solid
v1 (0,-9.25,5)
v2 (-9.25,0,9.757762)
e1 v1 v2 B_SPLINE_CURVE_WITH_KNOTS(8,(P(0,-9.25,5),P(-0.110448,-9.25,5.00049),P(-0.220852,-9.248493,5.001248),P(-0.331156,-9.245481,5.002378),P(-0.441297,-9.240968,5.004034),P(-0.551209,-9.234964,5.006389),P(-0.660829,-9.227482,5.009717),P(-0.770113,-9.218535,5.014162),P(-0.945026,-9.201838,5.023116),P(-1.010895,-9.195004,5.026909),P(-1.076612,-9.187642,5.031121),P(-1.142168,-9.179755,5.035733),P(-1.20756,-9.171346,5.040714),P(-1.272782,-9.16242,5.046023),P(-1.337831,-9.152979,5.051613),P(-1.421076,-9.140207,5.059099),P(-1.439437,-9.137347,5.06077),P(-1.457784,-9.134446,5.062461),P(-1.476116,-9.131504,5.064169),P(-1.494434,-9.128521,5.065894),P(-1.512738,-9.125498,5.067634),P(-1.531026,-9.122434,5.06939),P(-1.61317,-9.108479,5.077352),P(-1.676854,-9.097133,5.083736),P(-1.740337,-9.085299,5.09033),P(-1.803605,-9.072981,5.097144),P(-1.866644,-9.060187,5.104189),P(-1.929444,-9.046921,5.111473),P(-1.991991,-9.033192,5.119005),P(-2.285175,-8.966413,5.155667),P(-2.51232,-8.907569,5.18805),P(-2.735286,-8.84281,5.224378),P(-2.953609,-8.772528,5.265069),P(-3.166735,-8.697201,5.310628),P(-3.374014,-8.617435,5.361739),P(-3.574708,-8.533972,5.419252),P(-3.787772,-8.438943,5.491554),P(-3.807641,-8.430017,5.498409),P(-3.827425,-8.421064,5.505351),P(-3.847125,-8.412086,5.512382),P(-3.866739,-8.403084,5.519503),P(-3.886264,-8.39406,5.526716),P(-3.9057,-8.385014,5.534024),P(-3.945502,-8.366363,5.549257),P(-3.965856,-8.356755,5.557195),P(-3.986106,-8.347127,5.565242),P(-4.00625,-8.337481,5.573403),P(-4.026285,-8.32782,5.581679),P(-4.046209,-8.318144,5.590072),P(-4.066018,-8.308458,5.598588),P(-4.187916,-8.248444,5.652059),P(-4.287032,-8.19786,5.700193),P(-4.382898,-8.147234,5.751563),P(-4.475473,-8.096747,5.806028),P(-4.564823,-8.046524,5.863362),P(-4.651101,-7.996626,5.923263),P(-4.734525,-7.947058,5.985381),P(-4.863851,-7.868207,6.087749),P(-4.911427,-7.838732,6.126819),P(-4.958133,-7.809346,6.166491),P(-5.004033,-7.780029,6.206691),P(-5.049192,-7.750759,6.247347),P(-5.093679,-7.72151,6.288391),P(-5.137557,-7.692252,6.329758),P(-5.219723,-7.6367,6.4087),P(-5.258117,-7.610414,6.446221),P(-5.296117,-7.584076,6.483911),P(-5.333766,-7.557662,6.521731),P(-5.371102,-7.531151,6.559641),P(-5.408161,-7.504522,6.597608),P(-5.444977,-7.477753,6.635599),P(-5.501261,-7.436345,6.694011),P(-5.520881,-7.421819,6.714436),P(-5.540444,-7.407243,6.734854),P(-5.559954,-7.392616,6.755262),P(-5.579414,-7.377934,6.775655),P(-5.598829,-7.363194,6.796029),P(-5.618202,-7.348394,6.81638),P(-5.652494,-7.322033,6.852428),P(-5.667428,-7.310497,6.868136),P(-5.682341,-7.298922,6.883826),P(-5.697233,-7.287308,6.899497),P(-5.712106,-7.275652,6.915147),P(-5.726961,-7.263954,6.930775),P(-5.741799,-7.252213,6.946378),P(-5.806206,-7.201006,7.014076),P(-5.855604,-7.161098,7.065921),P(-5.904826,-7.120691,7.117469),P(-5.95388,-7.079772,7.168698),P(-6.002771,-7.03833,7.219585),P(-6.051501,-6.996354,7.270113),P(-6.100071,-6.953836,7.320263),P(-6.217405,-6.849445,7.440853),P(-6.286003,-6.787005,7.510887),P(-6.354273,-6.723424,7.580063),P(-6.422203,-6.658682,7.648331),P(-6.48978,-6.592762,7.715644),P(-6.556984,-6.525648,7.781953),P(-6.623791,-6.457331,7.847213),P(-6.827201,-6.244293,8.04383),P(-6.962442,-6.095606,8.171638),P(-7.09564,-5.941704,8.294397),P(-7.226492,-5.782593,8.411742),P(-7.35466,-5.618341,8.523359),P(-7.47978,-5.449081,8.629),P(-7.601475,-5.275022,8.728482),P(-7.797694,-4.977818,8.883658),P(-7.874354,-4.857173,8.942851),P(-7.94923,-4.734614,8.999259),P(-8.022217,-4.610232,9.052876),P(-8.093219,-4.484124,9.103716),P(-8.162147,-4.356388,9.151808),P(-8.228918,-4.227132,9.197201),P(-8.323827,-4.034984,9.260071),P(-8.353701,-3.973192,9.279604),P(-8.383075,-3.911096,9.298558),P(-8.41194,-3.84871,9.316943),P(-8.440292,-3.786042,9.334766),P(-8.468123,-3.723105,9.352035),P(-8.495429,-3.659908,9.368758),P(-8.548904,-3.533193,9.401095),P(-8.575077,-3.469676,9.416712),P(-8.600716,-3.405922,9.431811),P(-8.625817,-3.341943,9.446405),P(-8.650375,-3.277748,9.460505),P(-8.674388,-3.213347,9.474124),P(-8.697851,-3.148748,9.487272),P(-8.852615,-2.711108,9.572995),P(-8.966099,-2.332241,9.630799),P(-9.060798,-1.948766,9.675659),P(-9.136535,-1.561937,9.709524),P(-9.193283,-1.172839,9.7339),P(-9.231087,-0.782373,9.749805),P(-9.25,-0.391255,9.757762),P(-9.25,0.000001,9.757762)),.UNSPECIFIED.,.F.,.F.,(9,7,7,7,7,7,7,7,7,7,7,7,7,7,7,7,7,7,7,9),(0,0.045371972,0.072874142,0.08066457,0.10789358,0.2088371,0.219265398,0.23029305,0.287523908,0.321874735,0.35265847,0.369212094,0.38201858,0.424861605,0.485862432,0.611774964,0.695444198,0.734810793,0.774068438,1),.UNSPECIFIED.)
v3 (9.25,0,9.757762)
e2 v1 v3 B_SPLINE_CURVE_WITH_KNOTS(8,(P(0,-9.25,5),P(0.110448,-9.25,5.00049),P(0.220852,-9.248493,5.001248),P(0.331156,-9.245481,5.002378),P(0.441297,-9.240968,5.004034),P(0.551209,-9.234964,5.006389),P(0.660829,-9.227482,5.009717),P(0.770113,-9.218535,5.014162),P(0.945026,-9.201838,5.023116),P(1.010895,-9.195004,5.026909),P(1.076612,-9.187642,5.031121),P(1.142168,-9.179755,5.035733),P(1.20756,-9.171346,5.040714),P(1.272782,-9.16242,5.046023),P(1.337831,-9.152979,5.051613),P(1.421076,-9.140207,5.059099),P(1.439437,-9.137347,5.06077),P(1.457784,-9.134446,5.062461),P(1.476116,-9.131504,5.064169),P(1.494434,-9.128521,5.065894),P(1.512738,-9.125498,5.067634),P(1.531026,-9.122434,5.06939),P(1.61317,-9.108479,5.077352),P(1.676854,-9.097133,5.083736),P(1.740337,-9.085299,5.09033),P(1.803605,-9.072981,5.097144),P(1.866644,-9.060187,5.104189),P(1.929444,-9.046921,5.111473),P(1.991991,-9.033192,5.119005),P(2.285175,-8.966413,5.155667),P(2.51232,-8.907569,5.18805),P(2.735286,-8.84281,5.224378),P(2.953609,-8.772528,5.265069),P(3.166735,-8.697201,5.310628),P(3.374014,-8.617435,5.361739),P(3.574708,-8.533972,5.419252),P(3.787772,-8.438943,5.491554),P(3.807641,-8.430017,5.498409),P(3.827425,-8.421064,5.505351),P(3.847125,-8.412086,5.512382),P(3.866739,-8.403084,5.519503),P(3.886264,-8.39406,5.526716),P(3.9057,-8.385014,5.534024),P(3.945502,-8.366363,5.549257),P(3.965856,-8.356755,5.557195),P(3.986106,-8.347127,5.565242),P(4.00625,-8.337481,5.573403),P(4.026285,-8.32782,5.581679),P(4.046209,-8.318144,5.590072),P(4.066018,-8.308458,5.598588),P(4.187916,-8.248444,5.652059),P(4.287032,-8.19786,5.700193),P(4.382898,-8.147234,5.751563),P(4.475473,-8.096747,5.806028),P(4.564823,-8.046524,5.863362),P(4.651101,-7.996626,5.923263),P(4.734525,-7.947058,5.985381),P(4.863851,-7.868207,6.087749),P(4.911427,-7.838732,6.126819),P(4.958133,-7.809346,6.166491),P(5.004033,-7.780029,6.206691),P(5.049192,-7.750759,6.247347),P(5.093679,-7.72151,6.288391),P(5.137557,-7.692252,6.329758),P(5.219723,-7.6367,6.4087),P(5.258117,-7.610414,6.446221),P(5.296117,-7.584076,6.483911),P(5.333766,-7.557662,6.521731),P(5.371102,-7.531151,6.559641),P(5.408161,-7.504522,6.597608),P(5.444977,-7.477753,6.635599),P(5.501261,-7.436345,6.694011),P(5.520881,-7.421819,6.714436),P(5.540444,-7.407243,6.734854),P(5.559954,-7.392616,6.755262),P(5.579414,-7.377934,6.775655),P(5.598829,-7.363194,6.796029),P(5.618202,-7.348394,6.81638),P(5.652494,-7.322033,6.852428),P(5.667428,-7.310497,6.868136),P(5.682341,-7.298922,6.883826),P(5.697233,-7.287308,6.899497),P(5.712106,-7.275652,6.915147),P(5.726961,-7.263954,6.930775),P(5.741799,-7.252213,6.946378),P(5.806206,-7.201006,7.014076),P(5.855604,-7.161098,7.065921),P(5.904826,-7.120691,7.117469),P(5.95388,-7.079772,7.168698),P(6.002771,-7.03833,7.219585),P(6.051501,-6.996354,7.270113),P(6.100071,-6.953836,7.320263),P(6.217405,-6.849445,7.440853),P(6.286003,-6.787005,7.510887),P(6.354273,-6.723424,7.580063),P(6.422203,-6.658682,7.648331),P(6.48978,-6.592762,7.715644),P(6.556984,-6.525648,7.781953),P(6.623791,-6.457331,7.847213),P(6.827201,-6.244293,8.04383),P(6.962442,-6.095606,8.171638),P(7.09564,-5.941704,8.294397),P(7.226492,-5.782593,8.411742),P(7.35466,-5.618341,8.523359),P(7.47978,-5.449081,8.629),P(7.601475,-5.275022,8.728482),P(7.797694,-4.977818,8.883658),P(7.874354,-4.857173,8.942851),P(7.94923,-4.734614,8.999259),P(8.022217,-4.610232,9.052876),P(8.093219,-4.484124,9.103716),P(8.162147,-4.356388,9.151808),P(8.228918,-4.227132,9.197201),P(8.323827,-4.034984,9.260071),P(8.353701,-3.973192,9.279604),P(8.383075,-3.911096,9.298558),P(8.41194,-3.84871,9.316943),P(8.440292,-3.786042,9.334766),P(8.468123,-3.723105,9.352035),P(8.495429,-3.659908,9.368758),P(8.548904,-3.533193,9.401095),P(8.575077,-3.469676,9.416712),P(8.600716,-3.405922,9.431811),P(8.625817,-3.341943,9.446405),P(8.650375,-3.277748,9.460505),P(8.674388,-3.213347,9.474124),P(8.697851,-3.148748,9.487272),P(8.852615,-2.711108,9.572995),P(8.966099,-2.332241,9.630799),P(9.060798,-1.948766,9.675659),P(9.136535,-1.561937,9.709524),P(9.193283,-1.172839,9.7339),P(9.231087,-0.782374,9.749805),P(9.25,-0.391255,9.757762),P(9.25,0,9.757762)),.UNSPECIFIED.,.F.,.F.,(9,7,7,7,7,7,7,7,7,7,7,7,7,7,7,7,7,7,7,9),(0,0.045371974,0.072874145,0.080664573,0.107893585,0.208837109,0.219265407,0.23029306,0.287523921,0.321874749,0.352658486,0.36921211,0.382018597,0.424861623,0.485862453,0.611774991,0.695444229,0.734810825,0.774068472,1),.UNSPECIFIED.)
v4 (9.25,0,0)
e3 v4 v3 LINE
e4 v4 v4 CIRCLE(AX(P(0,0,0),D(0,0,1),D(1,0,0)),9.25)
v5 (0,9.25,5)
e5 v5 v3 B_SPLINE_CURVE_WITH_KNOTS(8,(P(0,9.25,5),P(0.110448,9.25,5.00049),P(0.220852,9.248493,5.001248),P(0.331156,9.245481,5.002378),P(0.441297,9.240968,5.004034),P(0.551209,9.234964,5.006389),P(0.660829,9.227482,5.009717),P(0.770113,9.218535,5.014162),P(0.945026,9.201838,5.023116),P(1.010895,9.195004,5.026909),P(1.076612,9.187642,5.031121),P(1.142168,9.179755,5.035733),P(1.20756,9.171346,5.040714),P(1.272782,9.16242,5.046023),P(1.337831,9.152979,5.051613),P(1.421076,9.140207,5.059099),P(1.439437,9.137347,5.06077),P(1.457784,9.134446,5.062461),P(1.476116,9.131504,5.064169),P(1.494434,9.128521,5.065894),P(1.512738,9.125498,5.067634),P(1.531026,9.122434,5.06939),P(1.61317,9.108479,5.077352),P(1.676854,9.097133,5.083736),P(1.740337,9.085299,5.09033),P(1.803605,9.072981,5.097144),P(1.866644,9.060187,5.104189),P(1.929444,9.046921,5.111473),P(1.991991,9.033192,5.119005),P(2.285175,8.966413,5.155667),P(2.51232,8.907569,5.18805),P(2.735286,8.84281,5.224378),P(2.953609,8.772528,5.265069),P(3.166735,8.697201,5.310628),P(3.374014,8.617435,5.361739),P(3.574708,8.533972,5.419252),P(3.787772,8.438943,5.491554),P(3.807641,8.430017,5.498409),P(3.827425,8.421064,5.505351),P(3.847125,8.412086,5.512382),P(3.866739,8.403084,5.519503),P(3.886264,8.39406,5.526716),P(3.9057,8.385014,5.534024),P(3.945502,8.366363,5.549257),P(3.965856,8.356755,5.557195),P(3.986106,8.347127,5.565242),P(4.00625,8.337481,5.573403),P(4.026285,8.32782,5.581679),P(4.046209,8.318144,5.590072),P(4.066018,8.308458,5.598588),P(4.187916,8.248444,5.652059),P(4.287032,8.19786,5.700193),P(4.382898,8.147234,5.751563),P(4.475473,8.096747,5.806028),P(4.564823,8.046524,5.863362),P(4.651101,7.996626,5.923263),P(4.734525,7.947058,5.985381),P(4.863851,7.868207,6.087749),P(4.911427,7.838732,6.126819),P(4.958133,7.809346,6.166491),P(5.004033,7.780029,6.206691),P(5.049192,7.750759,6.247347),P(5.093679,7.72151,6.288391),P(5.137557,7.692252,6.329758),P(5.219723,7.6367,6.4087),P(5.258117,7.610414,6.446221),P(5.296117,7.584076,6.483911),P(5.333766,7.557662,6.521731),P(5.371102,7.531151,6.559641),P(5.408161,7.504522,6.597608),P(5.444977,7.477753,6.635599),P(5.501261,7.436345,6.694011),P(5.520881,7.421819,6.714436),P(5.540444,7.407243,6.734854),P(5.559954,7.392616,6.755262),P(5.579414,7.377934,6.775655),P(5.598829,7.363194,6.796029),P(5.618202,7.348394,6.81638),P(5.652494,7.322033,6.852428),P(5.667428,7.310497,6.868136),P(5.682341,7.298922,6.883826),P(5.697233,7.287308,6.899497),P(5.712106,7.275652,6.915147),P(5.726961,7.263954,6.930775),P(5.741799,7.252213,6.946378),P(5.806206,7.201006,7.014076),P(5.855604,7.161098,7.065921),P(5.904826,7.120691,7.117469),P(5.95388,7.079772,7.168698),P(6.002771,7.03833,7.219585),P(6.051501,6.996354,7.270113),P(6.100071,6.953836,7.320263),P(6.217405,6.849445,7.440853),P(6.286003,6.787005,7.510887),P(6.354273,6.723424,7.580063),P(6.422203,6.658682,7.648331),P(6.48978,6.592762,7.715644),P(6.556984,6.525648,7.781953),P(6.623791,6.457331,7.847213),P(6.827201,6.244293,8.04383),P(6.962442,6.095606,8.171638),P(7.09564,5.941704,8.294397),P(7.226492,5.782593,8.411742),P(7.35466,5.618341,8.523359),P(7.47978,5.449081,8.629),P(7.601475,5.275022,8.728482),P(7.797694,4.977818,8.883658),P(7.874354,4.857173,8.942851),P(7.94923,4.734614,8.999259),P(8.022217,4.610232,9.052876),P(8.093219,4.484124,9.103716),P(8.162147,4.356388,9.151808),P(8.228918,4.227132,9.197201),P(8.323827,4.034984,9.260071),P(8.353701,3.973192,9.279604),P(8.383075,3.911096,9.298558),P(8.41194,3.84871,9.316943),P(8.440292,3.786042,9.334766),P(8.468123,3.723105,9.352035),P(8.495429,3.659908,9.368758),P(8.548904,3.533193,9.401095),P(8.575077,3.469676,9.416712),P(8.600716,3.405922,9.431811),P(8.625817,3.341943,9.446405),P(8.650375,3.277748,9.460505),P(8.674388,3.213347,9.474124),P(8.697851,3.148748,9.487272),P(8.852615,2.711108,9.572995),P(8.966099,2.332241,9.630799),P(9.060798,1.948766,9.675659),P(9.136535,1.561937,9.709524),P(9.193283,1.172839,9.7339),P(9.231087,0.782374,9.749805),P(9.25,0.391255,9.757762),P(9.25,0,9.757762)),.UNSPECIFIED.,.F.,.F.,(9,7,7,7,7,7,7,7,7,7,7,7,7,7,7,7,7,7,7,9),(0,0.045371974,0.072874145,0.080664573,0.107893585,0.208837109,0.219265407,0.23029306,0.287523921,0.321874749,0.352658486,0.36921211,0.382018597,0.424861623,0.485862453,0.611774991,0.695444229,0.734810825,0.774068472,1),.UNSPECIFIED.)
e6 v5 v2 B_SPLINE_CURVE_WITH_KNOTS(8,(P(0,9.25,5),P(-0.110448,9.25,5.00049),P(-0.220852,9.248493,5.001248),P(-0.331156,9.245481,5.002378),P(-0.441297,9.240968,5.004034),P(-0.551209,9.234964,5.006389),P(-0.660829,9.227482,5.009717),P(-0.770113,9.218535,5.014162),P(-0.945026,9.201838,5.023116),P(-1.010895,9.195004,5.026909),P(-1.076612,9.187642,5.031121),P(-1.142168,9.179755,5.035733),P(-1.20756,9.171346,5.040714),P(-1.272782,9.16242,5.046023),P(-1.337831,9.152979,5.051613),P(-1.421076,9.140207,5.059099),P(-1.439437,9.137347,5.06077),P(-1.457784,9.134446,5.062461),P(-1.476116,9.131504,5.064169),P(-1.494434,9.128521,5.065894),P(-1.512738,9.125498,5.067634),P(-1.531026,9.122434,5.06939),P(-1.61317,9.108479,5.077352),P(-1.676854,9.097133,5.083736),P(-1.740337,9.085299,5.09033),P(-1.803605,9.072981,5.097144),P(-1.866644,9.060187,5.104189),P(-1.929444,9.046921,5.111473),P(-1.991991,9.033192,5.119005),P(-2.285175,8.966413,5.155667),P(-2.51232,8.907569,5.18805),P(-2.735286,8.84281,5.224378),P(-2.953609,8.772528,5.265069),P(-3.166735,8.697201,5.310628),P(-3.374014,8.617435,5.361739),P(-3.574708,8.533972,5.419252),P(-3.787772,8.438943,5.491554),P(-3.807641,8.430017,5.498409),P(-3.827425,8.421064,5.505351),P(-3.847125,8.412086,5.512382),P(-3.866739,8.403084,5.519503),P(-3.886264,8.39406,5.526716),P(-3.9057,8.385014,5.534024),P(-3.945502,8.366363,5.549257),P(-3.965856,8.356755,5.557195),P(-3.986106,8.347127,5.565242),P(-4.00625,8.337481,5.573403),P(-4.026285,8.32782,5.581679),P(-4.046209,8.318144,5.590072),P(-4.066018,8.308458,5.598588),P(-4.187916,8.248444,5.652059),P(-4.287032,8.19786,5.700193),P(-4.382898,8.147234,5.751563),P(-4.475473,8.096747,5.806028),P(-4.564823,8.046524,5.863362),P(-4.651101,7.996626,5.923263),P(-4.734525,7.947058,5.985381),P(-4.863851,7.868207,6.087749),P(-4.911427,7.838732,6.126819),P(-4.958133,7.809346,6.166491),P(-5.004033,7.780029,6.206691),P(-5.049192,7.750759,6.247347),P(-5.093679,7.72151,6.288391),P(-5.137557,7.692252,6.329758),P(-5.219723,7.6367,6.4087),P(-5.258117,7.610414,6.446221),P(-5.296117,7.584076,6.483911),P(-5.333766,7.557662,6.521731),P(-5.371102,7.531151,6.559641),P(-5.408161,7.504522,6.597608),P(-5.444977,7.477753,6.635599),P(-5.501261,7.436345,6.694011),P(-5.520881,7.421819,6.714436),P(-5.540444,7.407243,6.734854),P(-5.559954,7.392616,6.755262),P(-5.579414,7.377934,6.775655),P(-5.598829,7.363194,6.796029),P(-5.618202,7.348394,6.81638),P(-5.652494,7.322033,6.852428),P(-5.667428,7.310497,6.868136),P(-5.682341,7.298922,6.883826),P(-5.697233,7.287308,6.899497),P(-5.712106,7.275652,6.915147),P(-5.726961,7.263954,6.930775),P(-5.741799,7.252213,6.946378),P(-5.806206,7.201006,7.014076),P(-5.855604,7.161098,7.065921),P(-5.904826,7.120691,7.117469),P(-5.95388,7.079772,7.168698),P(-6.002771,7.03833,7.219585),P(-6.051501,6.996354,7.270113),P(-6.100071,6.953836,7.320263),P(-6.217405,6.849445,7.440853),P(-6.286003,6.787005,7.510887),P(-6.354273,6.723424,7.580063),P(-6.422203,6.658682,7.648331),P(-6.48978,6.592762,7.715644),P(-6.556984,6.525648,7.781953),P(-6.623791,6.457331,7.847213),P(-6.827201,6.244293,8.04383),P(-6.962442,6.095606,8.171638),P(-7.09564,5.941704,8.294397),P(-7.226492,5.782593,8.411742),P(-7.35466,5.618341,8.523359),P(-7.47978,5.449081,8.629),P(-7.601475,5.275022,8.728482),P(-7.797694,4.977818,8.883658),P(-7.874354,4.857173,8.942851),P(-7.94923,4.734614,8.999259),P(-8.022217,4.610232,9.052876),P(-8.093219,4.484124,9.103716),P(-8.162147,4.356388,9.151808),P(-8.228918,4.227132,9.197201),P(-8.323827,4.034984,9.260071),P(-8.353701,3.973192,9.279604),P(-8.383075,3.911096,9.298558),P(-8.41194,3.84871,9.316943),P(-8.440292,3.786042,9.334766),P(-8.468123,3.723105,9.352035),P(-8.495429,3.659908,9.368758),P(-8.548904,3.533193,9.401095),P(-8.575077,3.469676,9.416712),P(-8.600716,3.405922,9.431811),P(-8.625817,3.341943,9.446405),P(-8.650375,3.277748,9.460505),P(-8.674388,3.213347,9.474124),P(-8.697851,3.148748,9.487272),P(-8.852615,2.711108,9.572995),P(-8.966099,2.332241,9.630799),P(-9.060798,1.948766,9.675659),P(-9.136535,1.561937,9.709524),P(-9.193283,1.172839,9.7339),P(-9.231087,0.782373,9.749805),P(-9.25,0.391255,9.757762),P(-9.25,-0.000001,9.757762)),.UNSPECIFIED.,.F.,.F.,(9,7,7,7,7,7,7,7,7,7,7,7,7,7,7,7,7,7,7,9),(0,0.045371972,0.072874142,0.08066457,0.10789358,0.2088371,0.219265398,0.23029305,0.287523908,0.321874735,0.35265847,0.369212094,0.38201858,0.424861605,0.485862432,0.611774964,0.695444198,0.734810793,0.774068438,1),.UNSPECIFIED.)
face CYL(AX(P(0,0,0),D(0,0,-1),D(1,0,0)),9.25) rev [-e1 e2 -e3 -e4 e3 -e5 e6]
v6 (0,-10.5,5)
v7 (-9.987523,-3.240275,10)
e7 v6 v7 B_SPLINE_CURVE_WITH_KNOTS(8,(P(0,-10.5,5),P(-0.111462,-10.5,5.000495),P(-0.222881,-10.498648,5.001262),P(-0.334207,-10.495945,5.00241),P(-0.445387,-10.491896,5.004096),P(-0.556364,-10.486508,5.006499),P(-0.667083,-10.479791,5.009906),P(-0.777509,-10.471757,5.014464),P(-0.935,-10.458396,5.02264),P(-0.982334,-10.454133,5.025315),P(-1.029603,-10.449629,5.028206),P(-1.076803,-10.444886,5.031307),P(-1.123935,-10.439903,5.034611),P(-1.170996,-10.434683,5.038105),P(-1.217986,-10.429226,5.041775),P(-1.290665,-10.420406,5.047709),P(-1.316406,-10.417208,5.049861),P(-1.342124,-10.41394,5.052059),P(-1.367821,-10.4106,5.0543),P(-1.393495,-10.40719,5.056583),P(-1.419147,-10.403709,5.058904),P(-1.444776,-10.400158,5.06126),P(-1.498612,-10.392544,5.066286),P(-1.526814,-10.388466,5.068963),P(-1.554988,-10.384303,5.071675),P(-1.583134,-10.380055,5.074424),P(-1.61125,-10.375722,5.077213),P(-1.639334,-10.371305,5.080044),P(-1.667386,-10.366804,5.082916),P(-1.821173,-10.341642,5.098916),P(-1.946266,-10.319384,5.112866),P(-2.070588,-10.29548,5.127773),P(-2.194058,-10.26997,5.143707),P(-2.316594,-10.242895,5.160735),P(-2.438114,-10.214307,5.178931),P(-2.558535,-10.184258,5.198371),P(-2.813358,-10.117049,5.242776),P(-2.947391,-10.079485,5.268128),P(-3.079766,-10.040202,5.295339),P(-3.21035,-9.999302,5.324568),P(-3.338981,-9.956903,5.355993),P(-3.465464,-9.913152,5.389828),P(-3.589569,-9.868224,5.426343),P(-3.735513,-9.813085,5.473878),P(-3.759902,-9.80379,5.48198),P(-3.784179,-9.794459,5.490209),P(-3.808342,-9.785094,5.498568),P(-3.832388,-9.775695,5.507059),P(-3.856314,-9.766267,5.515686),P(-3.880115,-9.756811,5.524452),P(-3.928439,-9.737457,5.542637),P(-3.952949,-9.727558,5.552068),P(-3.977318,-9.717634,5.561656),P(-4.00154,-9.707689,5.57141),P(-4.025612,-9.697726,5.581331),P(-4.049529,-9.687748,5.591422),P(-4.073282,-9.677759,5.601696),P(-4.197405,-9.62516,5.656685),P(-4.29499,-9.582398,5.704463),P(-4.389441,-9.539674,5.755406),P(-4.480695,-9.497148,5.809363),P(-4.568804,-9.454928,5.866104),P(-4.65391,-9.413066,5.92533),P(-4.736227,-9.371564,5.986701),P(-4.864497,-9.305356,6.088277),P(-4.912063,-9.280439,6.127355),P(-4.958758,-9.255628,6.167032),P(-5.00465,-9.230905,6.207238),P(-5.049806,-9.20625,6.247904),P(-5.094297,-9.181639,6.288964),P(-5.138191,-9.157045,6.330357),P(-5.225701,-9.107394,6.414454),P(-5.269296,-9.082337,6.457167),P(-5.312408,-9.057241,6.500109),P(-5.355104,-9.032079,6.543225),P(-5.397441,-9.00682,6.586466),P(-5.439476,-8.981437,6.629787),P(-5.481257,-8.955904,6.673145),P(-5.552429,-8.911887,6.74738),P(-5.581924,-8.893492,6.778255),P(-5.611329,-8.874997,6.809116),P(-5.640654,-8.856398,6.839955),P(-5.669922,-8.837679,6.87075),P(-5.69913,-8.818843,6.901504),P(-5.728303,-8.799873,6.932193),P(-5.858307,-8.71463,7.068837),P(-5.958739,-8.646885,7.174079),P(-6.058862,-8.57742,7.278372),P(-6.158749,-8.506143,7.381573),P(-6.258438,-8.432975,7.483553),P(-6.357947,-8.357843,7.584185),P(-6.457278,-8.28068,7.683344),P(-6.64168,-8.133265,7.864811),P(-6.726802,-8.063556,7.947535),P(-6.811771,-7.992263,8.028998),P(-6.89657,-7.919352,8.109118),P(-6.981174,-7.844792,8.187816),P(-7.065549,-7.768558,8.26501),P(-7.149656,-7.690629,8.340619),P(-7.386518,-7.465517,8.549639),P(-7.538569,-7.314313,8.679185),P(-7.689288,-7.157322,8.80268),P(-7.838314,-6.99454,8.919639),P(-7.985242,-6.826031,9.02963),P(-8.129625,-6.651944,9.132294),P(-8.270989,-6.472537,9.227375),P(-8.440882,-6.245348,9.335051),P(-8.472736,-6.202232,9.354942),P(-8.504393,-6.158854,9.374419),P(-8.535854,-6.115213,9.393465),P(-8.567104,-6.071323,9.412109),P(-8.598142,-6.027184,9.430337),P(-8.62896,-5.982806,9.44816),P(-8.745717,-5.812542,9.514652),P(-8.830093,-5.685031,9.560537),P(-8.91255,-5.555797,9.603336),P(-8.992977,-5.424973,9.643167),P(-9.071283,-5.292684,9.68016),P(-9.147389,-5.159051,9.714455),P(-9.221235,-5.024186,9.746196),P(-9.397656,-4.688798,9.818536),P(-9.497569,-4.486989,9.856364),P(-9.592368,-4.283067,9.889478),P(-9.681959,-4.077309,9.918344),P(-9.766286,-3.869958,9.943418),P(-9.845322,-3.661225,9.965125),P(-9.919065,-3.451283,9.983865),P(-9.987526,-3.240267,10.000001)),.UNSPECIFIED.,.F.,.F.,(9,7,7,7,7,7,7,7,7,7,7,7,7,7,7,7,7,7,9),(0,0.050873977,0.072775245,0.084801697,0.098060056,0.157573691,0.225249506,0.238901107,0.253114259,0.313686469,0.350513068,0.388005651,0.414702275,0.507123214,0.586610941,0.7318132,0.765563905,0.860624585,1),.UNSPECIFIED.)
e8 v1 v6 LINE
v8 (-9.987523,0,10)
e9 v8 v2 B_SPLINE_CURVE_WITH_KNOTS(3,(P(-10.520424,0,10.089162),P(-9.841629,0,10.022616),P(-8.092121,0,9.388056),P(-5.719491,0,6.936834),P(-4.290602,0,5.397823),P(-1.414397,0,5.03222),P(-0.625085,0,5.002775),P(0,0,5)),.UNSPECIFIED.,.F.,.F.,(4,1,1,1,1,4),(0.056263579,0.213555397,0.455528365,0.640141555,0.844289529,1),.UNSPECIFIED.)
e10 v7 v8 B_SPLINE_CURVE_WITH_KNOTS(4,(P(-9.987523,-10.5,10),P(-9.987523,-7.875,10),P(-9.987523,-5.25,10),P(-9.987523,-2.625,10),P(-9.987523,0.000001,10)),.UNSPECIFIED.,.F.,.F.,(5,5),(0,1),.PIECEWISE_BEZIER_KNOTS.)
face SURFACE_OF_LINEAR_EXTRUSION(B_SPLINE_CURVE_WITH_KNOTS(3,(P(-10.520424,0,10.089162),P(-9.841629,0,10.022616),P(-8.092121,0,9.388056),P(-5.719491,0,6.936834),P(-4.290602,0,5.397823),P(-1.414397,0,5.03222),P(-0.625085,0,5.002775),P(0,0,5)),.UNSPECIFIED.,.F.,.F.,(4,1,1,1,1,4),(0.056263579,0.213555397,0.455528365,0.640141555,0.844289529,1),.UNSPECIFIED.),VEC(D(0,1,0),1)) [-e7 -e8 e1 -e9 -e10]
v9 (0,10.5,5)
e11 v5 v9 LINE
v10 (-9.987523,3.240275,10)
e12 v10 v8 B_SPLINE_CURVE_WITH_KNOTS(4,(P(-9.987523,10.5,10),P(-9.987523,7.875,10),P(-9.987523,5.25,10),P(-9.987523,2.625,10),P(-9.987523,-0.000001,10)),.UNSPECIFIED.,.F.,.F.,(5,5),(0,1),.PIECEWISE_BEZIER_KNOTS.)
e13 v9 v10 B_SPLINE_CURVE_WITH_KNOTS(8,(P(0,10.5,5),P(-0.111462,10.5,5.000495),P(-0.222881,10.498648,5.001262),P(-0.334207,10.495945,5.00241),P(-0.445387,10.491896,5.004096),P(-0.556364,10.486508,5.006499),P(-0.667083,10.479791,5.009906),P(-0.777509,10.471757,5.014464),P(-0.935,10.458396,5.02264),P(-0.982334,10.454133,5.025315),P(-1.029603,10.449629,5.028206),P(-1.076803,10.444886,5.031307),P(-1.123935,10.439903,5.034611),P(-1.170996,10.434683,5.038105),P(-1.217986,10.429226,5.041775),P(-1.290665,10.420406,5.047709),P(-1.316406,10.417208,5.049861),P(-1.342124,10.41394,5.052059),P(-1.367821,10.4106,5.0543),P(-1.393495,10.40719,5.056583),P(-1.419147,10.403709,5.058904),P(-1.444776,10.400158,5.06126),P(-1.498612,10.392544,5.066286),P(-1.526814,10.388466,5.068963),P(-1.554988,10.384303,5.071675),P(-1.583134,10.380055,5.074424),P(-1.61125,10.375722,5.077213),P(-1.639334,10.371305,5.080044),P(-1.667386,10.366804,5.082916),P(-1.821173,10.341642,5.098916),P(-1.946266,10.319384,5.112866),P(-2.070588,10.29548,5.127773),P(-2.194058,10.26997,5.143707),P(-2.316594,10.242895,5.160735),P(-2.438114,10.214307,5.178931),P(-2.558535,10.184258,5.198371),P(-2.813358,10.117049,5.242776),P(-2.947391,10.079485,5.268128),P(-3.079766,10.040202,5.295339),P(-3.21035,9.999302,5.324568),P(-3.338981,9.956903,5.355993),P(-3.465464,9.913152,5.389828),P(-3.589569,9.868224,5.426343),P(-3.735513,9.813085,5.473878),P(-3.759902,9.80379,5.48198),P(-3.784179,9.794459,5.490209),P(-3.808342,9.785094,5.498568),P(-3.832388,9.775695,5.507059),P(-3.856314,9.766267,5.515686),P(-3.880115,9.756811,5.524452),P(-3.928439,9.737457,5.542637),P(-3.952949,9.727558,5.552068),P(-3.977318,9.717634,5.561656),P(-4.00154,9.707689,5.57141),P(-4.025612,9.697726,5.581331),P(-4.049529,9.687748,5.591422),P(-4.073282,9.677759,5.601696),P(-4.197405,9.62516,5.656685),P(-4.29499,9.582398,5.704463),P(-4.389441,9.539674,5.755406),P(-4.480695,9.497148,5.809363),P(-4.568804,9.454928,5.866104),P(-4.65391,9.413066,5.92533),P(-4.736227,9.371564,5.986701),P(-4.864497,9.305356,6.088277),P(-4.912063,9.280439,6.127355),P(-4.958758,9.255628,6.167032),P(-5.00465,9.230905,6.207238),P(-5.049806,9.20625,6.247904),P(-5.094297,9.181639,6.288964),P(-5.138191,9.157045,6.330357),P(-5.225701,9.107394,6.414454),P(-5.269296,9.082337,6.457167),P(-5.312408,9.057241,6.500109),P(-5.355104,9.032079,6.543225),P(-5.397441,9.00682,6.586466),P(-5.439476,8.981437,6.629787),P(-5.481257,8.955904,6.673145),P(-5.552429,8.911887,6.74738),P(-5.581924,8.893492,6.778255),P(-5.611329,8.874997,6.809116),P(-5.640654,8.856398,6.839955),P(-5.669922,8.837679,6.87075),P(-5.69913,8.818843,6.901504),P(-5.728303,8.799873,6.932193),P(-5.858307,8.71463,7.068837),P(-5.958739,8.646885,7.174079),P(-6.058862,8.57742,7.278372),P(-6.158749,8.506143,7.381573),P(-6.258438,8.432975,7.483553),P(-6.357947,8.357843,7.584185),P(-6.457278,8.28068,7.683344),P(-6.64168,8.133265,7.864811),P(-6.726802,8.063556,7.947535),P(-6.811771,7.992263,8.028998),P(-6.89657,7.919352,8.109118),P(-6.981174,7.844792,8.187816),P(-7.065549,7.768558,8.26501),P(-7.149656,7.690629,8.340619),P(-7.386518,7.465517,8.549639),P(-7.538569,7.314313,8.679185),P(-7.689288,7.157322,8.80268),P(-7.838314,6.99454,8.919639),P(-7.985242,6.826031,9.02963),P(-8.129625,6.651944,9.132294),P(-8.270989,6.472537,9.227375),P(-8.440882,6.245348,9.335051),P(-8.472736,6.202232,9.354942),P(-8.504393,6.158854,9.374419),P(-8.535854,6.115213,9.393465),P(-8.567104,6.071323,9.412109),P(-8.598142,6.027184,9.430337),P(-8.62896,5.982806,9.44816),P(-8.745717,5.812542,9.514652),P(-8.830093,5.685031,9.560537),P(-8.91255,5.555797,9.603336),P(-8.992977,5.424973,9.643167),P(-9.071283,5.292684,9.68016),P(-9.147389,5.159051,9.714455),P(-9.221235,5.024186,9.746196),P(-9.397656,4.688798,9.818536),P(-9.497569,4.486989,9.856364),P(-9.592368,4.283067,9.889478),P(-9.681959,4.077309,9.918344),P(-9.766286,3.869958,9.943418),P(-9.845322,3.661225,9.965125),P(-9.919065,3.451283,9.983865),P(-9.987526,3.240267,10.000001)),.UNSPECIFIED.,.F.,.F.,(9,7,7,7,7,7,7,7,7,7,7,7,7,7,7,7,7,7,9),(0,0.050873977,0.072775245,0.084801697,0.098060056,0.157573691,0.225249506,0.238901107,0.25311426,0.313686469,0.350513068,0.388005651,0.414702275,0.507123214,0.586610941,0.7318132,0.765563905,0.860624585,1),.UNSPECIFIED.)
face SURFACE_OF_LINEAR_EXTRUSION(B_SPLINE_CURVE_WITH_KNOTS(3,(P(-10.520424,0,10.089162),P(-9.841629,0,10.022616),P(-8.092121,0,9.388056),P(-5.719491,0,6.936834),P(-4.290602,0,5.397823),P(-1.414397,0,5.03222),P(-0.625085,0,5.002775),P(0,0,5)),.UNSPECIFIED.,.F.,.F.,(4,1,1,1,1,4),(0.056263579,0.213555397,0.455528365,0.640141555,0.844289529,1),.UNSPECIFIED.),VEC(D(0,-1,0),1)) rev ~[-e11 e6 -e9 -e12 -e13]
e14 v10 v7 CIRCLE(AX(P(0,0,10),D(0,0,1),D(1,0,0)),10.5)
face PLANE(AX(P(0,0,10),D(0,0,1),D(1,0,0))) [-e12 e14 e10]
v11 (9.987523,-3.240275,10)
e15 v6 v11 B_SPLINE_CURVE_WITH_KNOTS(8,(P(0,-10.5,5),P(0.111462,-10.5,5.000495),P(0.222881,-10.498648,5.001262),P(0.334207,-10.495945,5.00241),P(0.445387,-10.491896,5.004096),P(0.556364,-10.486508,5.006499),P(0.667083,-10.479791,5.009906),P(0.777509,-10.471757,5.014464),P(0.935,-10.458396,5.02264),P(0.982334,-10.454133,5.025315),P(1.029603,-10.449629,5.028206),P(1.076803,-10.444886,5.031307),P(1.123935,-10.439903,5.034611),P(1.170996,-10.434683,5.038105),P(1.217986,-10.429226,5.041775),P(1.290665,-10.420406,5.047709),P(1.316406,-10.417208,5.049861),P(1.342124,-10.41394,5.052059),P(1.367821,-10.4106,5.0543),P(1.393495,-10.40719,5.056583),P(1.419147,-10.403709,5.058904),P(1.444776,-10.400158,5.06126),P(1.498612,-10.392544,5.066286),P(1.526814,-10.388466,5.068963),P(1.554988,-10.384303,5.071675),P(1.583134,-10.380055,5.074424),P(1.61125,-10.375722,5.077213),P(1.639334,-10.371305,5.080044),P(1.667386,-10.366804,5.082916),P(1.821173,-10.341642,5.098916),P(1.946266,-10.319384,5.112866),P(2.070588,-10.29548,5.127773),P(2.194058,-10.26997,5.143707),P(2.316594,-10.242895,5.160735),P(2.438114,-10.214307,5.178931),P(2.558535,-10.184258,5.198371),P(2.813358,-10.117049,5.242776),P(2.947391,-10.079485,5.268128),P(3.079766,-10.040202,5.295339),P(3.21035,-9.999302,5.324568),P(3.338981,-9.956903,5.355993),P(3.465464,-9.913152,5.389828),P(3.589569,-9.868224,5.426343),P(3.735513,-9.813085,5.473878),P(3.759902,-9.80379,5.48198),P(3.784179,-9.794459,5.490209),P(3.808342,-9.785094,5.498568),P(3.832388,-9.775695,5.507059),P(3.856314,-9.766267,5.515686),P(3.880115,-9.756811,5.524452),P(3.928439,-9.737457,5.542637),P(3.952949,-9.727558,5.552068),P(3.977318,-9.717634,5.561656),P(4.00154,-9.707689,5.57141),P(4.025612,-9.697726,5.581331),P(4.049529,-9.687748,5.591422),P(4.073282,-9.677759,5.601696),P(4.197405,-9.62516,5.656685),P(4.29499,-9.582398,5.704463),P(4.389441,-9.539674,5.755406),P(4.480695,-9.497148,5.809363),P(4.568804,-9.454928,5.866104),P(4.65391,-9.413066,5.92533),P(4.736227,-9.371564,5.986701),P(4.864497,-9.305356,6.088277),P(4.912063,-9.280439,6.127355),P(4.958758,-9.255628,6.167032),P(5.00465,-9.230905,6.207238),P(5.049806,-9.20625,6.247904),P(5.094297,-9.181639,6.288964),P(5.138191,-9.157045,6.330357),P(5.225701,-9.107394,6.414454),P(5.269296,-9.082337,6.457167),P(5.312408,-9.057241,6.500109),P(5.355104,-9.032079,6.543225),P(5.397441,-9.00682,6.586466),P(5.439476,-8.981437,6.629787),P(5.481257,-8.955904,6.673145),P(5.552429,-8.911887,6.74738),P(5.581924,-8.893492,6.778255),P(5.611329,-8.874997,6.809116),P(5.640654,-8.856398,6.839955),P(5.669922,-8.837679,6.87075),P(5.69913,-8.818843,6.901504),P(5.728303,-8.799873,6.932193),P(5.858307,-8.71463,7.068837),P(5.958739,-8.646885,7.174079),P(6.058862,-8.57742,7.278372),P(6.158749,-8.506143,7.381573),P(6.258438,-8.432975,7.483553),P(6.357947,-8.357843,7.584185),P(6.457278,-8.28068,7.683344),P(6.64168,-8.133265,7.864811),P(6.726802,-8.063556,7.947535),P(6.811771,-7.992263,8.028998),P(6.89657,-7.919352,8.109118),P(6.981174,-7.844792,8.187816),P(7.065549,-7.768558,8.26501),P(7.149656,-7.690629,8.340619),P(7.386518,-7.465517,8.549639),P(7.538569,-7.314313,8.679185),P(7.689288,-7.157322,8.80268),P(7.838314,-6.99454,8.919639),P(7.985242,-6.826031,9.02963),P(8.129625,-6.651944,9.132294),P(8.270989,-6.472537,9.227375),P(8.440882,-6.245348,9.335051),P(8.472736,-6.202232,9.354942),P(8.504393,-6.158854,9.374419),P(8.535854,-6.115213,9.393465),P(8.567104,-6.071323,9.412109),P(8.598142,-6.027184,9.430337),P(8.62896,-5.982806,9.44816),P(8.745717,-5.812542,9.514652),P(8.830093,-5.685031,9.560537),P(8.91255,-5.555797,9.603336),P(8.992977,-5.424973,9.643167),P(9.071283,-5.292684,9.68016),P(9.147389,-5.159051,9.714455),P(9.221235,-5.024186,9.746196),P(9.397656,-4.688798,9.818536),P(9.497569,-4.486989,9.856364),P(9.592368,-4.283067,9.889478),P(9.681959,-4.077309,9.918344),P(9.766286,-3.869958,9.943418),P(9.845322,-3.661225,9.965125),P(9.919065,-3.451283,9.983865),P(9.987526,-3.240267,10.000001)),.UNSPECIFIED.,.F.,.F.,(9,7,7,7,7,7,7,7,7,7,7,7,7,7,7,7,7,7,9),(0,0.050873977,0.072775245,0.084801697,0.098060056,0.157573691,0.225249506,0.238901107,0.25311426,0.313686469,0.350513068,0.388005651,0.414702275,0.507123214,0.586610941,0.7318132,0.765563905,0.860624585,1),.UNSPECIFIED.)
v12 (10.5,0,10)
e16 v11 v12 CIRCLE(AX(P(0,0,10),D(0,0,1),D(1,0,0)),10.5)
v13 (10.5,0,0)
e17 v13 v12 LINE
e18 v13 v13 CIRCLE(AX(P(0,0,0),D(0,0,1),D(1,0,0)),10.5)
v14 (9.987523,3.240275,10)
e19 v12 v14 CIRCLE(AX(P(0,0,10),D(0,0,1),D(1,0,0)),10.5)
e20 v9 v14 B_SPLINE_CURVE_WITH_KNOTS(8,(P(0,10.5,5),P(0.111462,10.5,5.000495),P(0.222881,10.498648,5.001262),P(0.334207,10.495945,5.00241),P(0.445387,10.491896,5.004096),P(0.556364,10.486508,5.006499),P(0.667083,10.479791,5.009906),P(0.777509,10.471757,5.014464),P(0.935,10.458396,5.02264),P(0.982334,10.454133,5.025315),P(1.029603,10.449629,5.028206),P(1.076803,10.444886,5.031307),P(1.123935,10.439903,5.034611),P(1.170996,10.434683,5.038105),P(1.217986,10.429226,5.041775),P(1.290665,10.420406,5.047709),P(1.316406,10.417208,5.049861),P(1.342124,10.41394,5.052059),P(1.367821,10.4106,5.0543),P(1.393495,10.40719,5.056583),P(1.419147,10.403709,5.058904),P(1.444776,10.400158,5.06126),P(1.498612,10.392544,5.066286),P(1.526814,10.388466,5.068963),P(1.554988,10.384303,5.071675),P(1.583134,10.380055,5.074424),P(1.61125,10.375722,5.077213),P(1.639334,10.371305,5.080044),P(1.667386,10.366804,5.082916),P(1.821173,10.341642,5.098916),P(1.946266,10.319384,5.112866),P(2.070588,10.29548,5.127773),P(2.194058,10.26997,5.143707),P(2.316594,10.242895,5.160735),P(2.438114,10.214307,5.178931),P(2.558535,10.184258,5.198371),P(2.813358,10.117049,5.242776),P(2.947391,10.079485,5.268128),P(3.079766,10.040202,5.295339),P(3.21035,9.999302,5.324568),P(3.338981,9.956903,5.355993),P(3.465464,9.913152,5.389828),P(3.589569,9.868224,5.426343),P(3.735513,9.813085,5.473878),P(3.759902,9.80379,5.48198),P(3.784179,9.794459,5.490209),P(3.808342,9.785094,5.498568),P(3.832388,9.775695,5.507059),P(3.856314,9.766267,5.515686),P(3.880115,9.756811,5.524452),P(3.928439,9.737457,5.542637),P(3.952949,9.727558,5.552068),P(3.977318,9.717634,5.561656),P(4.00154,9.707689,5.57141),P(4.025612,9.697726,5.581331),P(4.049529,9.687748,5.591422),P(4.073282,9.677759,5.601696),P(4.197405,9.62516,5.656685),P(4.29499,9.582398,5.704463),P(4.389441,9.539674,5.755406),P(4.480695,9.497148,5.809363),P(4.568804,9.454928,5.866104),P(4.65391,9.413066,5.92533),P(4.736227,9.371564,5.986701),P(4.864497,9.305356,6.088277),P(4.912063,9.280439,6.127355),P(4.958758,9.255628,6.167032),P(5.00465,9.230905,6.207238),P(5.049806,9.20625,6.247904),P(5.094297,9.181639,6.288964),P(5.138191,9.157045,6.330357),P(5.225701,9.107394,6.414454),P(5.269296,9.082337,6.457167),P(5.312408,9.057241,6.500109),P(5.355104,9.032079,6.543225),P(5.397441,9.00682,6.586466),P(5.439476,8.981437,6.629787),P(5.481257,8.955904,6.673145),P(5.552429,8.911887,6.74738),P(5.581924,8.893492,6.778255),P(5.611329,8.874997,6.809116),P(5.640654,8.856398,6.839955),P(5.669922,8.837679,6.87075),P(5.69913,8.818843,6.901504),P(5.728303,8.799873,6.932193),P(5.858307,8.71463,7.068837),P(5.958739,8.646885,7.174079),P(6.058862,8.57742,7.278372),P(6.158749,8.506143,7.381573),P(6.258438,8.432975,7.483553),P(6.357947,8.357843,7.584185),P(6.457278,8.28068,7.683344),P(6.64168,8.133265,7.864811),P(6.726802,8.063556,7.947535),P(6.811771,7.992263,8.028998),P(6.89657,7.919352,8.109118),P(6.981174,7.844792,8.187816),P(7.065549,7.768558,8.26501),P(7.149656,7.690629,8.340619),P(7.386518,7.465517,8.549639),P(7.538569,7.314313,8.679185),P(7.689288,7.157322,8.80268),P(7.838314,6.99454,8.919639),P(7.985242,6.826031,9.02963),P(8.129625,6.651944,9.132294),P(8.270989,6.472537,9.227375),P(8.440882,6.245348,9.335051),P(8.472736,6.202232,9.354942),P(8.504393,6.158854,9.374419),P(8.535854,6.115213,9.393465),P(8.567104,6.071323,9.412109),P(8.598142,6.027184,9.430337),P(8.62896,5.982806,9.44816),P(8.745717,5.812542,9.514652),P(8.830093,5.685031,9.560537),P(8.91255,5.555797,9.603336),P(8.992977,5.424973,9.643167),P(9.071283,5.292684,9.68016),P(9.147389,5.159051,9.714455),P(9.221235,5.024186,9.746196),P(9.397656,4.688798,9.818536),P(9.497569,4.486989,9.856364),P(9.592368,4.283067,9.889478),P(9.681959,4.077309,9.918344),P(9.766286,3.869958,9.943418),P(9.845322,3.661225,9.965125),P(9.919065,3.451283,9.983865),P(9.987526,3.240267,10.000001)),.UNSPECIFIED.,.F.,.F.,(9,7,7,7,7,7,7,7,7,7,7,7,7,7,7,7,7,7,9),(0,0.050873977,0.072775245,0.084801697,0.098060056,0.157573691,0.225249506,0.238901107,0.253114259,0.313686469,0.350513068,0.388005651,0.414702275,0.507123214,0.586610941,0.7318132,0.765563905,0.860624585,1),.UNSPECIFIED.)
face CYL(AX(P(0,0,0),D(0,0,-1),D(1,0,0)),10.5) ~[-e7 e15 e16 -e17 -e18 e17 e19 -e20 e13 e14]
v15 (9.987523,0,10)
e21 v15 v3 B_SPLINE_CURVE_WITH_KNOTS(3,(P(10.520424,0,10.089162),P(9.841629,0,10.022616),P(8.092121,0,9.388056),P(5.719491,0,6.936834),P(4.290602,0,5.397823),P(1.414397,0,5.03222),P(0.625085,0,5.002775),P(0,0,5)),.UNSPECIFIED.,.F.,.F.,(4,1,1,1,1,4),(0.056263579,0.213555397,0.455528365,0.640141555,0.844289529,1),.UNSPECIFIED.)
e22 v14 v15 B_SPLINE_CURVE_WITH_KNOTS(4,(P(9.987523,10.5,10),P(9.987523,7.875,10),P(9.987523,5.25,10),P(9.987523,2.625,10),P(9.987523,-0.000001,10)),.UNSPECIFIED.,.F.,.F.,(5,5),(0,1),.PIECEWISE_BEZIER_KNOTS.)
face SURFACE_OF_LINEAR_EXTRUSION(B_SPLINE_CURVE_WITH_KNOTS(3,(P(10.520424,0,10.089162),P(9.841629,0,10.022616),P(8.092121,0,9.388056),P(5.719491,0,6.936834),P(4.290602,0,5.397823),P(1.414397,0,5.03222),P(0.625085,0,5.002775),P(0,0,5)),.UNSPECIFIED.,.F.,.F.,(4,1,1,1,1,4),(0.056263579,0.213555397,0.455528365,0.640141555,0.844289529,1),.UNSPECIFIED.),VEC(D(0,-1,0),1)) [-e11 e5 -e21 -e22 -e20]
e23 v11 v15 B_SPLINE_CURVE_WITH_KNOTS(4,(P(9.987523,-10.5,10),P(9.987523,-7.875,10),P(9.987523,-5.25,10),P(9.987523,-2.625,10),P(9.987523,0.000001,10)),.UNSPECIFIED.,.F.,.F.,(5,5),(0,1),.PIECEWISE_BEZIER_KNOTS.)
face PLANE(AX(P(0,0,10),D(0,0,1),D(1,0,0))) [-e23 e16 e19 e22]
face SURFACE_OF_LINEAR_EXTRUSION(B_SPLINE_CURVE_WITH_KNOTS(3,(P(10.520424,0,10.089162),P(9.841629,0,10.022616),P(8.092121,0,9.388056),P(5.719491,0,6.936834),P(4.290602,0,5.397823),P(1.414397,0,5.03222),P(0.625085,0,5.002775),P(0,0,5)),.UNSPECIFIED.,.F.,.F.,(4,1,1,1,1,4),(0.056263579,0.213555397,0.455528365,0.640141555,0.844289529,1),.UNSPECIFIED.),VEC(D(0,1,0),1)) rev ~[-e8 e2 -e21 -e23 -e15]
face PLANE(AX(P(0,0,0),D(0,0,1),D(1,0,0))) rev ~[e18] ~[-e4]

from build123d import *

# Parameters (mm, degrees)
F0_R     = 10.5
F0_R_2   = 9.25
F1_DEPTH = 10
F3_DEPTH = 12.5


with BuildPart() as f1:
    # F0 (on Top) → F1 (new body)
    with BuildSketch(Plane.XY):
        Circle(F0_R)
        Circle(F0_R_2, mode=Mode.SUBTRACT)
    extrude(amount=F1_DEPTH)

    # F2 (on Front) → F3 (cut, symmetric)
    with BuildSketch(Plane.XZ):
        with BuildLine():
            add(Edge.make_bspline(
                [(11.2434588373, 10.0891618058), (11.0047016615, 10.1132977758), (10.7632299901, 10.112965479), (10.5204237755, 10.0891618058)],
                knots=[0, 0, 0, 0, 0.0562635786, 0.0562635786, 0.0562635786, 0.0562635786], degree=3))
            Line((10.5204237755, 10.0891618058), (11.2434588373, 10.0891618058))
        make_face()
        with BuildLine():
            Line((10.5204237755, 10.0891618058), (-10.5204237755, 10.0891618058))
            add(Edge.make_bspline(
                [(-10.5204237755, 10.0891618058), (-9.8416288611, 10.0226156826), (-8.0921208581, 9.3880562532), (-5.7194913073, 6.93683362), (-4.2906021774, 5.397823396), (-1.4143970077, 5.0322200394), (-0.6250849692, 5.0027752295), (0, 5)],
                knots=[0.0562635786, 0.0562635786, 0.0562635786, 0.0562635786, 0.2135553971, 0.4555283654, 0.6401415553, 0.844289529, 1, 1, 1, 1], degree=3))
            add(Edge.make_bspline(
                [(10.5204237755, 10.0891618058), (9.8416288611, 10.0226156826), (8.0921208581, 9.3880562532), (5.7194913073, 6.93683362), (4.2906021774, 5.397823396), (1.4143970077, 5.0322200394), (0.6250849692, 5.0027752295), (0, 5)],
                knots=[0.0562635786, 0.0562635786, 0.0562635786, 0.0562635786, 0.2135553971, 0.4555283654, 0.6401415553, 0.844289529, 1, 1, 1, 1], degree=3))
        make_face()
        with BuildLine():
            add(Edge.make_bspline(
                [(-11.2434588373, 10.0891618058), (-11.0047016615, 10.1132977758), (-10.7632299901, 10.112965479), (-10.5204237755, 10.0891618058)],
                knots=[0, 0, 0, 0, 0.0562635786, 0.0562635786, 0.0562635786, 0.0562635786], degree=3))
            Line((-11.2434588373, 10.0891618058), (-10.5204237755, 10.0891618058))
        make_face()
    extrude(amount=F3_DEPTH, both=True, mode=Mode.SUBTRACT)


solid = f1.part
